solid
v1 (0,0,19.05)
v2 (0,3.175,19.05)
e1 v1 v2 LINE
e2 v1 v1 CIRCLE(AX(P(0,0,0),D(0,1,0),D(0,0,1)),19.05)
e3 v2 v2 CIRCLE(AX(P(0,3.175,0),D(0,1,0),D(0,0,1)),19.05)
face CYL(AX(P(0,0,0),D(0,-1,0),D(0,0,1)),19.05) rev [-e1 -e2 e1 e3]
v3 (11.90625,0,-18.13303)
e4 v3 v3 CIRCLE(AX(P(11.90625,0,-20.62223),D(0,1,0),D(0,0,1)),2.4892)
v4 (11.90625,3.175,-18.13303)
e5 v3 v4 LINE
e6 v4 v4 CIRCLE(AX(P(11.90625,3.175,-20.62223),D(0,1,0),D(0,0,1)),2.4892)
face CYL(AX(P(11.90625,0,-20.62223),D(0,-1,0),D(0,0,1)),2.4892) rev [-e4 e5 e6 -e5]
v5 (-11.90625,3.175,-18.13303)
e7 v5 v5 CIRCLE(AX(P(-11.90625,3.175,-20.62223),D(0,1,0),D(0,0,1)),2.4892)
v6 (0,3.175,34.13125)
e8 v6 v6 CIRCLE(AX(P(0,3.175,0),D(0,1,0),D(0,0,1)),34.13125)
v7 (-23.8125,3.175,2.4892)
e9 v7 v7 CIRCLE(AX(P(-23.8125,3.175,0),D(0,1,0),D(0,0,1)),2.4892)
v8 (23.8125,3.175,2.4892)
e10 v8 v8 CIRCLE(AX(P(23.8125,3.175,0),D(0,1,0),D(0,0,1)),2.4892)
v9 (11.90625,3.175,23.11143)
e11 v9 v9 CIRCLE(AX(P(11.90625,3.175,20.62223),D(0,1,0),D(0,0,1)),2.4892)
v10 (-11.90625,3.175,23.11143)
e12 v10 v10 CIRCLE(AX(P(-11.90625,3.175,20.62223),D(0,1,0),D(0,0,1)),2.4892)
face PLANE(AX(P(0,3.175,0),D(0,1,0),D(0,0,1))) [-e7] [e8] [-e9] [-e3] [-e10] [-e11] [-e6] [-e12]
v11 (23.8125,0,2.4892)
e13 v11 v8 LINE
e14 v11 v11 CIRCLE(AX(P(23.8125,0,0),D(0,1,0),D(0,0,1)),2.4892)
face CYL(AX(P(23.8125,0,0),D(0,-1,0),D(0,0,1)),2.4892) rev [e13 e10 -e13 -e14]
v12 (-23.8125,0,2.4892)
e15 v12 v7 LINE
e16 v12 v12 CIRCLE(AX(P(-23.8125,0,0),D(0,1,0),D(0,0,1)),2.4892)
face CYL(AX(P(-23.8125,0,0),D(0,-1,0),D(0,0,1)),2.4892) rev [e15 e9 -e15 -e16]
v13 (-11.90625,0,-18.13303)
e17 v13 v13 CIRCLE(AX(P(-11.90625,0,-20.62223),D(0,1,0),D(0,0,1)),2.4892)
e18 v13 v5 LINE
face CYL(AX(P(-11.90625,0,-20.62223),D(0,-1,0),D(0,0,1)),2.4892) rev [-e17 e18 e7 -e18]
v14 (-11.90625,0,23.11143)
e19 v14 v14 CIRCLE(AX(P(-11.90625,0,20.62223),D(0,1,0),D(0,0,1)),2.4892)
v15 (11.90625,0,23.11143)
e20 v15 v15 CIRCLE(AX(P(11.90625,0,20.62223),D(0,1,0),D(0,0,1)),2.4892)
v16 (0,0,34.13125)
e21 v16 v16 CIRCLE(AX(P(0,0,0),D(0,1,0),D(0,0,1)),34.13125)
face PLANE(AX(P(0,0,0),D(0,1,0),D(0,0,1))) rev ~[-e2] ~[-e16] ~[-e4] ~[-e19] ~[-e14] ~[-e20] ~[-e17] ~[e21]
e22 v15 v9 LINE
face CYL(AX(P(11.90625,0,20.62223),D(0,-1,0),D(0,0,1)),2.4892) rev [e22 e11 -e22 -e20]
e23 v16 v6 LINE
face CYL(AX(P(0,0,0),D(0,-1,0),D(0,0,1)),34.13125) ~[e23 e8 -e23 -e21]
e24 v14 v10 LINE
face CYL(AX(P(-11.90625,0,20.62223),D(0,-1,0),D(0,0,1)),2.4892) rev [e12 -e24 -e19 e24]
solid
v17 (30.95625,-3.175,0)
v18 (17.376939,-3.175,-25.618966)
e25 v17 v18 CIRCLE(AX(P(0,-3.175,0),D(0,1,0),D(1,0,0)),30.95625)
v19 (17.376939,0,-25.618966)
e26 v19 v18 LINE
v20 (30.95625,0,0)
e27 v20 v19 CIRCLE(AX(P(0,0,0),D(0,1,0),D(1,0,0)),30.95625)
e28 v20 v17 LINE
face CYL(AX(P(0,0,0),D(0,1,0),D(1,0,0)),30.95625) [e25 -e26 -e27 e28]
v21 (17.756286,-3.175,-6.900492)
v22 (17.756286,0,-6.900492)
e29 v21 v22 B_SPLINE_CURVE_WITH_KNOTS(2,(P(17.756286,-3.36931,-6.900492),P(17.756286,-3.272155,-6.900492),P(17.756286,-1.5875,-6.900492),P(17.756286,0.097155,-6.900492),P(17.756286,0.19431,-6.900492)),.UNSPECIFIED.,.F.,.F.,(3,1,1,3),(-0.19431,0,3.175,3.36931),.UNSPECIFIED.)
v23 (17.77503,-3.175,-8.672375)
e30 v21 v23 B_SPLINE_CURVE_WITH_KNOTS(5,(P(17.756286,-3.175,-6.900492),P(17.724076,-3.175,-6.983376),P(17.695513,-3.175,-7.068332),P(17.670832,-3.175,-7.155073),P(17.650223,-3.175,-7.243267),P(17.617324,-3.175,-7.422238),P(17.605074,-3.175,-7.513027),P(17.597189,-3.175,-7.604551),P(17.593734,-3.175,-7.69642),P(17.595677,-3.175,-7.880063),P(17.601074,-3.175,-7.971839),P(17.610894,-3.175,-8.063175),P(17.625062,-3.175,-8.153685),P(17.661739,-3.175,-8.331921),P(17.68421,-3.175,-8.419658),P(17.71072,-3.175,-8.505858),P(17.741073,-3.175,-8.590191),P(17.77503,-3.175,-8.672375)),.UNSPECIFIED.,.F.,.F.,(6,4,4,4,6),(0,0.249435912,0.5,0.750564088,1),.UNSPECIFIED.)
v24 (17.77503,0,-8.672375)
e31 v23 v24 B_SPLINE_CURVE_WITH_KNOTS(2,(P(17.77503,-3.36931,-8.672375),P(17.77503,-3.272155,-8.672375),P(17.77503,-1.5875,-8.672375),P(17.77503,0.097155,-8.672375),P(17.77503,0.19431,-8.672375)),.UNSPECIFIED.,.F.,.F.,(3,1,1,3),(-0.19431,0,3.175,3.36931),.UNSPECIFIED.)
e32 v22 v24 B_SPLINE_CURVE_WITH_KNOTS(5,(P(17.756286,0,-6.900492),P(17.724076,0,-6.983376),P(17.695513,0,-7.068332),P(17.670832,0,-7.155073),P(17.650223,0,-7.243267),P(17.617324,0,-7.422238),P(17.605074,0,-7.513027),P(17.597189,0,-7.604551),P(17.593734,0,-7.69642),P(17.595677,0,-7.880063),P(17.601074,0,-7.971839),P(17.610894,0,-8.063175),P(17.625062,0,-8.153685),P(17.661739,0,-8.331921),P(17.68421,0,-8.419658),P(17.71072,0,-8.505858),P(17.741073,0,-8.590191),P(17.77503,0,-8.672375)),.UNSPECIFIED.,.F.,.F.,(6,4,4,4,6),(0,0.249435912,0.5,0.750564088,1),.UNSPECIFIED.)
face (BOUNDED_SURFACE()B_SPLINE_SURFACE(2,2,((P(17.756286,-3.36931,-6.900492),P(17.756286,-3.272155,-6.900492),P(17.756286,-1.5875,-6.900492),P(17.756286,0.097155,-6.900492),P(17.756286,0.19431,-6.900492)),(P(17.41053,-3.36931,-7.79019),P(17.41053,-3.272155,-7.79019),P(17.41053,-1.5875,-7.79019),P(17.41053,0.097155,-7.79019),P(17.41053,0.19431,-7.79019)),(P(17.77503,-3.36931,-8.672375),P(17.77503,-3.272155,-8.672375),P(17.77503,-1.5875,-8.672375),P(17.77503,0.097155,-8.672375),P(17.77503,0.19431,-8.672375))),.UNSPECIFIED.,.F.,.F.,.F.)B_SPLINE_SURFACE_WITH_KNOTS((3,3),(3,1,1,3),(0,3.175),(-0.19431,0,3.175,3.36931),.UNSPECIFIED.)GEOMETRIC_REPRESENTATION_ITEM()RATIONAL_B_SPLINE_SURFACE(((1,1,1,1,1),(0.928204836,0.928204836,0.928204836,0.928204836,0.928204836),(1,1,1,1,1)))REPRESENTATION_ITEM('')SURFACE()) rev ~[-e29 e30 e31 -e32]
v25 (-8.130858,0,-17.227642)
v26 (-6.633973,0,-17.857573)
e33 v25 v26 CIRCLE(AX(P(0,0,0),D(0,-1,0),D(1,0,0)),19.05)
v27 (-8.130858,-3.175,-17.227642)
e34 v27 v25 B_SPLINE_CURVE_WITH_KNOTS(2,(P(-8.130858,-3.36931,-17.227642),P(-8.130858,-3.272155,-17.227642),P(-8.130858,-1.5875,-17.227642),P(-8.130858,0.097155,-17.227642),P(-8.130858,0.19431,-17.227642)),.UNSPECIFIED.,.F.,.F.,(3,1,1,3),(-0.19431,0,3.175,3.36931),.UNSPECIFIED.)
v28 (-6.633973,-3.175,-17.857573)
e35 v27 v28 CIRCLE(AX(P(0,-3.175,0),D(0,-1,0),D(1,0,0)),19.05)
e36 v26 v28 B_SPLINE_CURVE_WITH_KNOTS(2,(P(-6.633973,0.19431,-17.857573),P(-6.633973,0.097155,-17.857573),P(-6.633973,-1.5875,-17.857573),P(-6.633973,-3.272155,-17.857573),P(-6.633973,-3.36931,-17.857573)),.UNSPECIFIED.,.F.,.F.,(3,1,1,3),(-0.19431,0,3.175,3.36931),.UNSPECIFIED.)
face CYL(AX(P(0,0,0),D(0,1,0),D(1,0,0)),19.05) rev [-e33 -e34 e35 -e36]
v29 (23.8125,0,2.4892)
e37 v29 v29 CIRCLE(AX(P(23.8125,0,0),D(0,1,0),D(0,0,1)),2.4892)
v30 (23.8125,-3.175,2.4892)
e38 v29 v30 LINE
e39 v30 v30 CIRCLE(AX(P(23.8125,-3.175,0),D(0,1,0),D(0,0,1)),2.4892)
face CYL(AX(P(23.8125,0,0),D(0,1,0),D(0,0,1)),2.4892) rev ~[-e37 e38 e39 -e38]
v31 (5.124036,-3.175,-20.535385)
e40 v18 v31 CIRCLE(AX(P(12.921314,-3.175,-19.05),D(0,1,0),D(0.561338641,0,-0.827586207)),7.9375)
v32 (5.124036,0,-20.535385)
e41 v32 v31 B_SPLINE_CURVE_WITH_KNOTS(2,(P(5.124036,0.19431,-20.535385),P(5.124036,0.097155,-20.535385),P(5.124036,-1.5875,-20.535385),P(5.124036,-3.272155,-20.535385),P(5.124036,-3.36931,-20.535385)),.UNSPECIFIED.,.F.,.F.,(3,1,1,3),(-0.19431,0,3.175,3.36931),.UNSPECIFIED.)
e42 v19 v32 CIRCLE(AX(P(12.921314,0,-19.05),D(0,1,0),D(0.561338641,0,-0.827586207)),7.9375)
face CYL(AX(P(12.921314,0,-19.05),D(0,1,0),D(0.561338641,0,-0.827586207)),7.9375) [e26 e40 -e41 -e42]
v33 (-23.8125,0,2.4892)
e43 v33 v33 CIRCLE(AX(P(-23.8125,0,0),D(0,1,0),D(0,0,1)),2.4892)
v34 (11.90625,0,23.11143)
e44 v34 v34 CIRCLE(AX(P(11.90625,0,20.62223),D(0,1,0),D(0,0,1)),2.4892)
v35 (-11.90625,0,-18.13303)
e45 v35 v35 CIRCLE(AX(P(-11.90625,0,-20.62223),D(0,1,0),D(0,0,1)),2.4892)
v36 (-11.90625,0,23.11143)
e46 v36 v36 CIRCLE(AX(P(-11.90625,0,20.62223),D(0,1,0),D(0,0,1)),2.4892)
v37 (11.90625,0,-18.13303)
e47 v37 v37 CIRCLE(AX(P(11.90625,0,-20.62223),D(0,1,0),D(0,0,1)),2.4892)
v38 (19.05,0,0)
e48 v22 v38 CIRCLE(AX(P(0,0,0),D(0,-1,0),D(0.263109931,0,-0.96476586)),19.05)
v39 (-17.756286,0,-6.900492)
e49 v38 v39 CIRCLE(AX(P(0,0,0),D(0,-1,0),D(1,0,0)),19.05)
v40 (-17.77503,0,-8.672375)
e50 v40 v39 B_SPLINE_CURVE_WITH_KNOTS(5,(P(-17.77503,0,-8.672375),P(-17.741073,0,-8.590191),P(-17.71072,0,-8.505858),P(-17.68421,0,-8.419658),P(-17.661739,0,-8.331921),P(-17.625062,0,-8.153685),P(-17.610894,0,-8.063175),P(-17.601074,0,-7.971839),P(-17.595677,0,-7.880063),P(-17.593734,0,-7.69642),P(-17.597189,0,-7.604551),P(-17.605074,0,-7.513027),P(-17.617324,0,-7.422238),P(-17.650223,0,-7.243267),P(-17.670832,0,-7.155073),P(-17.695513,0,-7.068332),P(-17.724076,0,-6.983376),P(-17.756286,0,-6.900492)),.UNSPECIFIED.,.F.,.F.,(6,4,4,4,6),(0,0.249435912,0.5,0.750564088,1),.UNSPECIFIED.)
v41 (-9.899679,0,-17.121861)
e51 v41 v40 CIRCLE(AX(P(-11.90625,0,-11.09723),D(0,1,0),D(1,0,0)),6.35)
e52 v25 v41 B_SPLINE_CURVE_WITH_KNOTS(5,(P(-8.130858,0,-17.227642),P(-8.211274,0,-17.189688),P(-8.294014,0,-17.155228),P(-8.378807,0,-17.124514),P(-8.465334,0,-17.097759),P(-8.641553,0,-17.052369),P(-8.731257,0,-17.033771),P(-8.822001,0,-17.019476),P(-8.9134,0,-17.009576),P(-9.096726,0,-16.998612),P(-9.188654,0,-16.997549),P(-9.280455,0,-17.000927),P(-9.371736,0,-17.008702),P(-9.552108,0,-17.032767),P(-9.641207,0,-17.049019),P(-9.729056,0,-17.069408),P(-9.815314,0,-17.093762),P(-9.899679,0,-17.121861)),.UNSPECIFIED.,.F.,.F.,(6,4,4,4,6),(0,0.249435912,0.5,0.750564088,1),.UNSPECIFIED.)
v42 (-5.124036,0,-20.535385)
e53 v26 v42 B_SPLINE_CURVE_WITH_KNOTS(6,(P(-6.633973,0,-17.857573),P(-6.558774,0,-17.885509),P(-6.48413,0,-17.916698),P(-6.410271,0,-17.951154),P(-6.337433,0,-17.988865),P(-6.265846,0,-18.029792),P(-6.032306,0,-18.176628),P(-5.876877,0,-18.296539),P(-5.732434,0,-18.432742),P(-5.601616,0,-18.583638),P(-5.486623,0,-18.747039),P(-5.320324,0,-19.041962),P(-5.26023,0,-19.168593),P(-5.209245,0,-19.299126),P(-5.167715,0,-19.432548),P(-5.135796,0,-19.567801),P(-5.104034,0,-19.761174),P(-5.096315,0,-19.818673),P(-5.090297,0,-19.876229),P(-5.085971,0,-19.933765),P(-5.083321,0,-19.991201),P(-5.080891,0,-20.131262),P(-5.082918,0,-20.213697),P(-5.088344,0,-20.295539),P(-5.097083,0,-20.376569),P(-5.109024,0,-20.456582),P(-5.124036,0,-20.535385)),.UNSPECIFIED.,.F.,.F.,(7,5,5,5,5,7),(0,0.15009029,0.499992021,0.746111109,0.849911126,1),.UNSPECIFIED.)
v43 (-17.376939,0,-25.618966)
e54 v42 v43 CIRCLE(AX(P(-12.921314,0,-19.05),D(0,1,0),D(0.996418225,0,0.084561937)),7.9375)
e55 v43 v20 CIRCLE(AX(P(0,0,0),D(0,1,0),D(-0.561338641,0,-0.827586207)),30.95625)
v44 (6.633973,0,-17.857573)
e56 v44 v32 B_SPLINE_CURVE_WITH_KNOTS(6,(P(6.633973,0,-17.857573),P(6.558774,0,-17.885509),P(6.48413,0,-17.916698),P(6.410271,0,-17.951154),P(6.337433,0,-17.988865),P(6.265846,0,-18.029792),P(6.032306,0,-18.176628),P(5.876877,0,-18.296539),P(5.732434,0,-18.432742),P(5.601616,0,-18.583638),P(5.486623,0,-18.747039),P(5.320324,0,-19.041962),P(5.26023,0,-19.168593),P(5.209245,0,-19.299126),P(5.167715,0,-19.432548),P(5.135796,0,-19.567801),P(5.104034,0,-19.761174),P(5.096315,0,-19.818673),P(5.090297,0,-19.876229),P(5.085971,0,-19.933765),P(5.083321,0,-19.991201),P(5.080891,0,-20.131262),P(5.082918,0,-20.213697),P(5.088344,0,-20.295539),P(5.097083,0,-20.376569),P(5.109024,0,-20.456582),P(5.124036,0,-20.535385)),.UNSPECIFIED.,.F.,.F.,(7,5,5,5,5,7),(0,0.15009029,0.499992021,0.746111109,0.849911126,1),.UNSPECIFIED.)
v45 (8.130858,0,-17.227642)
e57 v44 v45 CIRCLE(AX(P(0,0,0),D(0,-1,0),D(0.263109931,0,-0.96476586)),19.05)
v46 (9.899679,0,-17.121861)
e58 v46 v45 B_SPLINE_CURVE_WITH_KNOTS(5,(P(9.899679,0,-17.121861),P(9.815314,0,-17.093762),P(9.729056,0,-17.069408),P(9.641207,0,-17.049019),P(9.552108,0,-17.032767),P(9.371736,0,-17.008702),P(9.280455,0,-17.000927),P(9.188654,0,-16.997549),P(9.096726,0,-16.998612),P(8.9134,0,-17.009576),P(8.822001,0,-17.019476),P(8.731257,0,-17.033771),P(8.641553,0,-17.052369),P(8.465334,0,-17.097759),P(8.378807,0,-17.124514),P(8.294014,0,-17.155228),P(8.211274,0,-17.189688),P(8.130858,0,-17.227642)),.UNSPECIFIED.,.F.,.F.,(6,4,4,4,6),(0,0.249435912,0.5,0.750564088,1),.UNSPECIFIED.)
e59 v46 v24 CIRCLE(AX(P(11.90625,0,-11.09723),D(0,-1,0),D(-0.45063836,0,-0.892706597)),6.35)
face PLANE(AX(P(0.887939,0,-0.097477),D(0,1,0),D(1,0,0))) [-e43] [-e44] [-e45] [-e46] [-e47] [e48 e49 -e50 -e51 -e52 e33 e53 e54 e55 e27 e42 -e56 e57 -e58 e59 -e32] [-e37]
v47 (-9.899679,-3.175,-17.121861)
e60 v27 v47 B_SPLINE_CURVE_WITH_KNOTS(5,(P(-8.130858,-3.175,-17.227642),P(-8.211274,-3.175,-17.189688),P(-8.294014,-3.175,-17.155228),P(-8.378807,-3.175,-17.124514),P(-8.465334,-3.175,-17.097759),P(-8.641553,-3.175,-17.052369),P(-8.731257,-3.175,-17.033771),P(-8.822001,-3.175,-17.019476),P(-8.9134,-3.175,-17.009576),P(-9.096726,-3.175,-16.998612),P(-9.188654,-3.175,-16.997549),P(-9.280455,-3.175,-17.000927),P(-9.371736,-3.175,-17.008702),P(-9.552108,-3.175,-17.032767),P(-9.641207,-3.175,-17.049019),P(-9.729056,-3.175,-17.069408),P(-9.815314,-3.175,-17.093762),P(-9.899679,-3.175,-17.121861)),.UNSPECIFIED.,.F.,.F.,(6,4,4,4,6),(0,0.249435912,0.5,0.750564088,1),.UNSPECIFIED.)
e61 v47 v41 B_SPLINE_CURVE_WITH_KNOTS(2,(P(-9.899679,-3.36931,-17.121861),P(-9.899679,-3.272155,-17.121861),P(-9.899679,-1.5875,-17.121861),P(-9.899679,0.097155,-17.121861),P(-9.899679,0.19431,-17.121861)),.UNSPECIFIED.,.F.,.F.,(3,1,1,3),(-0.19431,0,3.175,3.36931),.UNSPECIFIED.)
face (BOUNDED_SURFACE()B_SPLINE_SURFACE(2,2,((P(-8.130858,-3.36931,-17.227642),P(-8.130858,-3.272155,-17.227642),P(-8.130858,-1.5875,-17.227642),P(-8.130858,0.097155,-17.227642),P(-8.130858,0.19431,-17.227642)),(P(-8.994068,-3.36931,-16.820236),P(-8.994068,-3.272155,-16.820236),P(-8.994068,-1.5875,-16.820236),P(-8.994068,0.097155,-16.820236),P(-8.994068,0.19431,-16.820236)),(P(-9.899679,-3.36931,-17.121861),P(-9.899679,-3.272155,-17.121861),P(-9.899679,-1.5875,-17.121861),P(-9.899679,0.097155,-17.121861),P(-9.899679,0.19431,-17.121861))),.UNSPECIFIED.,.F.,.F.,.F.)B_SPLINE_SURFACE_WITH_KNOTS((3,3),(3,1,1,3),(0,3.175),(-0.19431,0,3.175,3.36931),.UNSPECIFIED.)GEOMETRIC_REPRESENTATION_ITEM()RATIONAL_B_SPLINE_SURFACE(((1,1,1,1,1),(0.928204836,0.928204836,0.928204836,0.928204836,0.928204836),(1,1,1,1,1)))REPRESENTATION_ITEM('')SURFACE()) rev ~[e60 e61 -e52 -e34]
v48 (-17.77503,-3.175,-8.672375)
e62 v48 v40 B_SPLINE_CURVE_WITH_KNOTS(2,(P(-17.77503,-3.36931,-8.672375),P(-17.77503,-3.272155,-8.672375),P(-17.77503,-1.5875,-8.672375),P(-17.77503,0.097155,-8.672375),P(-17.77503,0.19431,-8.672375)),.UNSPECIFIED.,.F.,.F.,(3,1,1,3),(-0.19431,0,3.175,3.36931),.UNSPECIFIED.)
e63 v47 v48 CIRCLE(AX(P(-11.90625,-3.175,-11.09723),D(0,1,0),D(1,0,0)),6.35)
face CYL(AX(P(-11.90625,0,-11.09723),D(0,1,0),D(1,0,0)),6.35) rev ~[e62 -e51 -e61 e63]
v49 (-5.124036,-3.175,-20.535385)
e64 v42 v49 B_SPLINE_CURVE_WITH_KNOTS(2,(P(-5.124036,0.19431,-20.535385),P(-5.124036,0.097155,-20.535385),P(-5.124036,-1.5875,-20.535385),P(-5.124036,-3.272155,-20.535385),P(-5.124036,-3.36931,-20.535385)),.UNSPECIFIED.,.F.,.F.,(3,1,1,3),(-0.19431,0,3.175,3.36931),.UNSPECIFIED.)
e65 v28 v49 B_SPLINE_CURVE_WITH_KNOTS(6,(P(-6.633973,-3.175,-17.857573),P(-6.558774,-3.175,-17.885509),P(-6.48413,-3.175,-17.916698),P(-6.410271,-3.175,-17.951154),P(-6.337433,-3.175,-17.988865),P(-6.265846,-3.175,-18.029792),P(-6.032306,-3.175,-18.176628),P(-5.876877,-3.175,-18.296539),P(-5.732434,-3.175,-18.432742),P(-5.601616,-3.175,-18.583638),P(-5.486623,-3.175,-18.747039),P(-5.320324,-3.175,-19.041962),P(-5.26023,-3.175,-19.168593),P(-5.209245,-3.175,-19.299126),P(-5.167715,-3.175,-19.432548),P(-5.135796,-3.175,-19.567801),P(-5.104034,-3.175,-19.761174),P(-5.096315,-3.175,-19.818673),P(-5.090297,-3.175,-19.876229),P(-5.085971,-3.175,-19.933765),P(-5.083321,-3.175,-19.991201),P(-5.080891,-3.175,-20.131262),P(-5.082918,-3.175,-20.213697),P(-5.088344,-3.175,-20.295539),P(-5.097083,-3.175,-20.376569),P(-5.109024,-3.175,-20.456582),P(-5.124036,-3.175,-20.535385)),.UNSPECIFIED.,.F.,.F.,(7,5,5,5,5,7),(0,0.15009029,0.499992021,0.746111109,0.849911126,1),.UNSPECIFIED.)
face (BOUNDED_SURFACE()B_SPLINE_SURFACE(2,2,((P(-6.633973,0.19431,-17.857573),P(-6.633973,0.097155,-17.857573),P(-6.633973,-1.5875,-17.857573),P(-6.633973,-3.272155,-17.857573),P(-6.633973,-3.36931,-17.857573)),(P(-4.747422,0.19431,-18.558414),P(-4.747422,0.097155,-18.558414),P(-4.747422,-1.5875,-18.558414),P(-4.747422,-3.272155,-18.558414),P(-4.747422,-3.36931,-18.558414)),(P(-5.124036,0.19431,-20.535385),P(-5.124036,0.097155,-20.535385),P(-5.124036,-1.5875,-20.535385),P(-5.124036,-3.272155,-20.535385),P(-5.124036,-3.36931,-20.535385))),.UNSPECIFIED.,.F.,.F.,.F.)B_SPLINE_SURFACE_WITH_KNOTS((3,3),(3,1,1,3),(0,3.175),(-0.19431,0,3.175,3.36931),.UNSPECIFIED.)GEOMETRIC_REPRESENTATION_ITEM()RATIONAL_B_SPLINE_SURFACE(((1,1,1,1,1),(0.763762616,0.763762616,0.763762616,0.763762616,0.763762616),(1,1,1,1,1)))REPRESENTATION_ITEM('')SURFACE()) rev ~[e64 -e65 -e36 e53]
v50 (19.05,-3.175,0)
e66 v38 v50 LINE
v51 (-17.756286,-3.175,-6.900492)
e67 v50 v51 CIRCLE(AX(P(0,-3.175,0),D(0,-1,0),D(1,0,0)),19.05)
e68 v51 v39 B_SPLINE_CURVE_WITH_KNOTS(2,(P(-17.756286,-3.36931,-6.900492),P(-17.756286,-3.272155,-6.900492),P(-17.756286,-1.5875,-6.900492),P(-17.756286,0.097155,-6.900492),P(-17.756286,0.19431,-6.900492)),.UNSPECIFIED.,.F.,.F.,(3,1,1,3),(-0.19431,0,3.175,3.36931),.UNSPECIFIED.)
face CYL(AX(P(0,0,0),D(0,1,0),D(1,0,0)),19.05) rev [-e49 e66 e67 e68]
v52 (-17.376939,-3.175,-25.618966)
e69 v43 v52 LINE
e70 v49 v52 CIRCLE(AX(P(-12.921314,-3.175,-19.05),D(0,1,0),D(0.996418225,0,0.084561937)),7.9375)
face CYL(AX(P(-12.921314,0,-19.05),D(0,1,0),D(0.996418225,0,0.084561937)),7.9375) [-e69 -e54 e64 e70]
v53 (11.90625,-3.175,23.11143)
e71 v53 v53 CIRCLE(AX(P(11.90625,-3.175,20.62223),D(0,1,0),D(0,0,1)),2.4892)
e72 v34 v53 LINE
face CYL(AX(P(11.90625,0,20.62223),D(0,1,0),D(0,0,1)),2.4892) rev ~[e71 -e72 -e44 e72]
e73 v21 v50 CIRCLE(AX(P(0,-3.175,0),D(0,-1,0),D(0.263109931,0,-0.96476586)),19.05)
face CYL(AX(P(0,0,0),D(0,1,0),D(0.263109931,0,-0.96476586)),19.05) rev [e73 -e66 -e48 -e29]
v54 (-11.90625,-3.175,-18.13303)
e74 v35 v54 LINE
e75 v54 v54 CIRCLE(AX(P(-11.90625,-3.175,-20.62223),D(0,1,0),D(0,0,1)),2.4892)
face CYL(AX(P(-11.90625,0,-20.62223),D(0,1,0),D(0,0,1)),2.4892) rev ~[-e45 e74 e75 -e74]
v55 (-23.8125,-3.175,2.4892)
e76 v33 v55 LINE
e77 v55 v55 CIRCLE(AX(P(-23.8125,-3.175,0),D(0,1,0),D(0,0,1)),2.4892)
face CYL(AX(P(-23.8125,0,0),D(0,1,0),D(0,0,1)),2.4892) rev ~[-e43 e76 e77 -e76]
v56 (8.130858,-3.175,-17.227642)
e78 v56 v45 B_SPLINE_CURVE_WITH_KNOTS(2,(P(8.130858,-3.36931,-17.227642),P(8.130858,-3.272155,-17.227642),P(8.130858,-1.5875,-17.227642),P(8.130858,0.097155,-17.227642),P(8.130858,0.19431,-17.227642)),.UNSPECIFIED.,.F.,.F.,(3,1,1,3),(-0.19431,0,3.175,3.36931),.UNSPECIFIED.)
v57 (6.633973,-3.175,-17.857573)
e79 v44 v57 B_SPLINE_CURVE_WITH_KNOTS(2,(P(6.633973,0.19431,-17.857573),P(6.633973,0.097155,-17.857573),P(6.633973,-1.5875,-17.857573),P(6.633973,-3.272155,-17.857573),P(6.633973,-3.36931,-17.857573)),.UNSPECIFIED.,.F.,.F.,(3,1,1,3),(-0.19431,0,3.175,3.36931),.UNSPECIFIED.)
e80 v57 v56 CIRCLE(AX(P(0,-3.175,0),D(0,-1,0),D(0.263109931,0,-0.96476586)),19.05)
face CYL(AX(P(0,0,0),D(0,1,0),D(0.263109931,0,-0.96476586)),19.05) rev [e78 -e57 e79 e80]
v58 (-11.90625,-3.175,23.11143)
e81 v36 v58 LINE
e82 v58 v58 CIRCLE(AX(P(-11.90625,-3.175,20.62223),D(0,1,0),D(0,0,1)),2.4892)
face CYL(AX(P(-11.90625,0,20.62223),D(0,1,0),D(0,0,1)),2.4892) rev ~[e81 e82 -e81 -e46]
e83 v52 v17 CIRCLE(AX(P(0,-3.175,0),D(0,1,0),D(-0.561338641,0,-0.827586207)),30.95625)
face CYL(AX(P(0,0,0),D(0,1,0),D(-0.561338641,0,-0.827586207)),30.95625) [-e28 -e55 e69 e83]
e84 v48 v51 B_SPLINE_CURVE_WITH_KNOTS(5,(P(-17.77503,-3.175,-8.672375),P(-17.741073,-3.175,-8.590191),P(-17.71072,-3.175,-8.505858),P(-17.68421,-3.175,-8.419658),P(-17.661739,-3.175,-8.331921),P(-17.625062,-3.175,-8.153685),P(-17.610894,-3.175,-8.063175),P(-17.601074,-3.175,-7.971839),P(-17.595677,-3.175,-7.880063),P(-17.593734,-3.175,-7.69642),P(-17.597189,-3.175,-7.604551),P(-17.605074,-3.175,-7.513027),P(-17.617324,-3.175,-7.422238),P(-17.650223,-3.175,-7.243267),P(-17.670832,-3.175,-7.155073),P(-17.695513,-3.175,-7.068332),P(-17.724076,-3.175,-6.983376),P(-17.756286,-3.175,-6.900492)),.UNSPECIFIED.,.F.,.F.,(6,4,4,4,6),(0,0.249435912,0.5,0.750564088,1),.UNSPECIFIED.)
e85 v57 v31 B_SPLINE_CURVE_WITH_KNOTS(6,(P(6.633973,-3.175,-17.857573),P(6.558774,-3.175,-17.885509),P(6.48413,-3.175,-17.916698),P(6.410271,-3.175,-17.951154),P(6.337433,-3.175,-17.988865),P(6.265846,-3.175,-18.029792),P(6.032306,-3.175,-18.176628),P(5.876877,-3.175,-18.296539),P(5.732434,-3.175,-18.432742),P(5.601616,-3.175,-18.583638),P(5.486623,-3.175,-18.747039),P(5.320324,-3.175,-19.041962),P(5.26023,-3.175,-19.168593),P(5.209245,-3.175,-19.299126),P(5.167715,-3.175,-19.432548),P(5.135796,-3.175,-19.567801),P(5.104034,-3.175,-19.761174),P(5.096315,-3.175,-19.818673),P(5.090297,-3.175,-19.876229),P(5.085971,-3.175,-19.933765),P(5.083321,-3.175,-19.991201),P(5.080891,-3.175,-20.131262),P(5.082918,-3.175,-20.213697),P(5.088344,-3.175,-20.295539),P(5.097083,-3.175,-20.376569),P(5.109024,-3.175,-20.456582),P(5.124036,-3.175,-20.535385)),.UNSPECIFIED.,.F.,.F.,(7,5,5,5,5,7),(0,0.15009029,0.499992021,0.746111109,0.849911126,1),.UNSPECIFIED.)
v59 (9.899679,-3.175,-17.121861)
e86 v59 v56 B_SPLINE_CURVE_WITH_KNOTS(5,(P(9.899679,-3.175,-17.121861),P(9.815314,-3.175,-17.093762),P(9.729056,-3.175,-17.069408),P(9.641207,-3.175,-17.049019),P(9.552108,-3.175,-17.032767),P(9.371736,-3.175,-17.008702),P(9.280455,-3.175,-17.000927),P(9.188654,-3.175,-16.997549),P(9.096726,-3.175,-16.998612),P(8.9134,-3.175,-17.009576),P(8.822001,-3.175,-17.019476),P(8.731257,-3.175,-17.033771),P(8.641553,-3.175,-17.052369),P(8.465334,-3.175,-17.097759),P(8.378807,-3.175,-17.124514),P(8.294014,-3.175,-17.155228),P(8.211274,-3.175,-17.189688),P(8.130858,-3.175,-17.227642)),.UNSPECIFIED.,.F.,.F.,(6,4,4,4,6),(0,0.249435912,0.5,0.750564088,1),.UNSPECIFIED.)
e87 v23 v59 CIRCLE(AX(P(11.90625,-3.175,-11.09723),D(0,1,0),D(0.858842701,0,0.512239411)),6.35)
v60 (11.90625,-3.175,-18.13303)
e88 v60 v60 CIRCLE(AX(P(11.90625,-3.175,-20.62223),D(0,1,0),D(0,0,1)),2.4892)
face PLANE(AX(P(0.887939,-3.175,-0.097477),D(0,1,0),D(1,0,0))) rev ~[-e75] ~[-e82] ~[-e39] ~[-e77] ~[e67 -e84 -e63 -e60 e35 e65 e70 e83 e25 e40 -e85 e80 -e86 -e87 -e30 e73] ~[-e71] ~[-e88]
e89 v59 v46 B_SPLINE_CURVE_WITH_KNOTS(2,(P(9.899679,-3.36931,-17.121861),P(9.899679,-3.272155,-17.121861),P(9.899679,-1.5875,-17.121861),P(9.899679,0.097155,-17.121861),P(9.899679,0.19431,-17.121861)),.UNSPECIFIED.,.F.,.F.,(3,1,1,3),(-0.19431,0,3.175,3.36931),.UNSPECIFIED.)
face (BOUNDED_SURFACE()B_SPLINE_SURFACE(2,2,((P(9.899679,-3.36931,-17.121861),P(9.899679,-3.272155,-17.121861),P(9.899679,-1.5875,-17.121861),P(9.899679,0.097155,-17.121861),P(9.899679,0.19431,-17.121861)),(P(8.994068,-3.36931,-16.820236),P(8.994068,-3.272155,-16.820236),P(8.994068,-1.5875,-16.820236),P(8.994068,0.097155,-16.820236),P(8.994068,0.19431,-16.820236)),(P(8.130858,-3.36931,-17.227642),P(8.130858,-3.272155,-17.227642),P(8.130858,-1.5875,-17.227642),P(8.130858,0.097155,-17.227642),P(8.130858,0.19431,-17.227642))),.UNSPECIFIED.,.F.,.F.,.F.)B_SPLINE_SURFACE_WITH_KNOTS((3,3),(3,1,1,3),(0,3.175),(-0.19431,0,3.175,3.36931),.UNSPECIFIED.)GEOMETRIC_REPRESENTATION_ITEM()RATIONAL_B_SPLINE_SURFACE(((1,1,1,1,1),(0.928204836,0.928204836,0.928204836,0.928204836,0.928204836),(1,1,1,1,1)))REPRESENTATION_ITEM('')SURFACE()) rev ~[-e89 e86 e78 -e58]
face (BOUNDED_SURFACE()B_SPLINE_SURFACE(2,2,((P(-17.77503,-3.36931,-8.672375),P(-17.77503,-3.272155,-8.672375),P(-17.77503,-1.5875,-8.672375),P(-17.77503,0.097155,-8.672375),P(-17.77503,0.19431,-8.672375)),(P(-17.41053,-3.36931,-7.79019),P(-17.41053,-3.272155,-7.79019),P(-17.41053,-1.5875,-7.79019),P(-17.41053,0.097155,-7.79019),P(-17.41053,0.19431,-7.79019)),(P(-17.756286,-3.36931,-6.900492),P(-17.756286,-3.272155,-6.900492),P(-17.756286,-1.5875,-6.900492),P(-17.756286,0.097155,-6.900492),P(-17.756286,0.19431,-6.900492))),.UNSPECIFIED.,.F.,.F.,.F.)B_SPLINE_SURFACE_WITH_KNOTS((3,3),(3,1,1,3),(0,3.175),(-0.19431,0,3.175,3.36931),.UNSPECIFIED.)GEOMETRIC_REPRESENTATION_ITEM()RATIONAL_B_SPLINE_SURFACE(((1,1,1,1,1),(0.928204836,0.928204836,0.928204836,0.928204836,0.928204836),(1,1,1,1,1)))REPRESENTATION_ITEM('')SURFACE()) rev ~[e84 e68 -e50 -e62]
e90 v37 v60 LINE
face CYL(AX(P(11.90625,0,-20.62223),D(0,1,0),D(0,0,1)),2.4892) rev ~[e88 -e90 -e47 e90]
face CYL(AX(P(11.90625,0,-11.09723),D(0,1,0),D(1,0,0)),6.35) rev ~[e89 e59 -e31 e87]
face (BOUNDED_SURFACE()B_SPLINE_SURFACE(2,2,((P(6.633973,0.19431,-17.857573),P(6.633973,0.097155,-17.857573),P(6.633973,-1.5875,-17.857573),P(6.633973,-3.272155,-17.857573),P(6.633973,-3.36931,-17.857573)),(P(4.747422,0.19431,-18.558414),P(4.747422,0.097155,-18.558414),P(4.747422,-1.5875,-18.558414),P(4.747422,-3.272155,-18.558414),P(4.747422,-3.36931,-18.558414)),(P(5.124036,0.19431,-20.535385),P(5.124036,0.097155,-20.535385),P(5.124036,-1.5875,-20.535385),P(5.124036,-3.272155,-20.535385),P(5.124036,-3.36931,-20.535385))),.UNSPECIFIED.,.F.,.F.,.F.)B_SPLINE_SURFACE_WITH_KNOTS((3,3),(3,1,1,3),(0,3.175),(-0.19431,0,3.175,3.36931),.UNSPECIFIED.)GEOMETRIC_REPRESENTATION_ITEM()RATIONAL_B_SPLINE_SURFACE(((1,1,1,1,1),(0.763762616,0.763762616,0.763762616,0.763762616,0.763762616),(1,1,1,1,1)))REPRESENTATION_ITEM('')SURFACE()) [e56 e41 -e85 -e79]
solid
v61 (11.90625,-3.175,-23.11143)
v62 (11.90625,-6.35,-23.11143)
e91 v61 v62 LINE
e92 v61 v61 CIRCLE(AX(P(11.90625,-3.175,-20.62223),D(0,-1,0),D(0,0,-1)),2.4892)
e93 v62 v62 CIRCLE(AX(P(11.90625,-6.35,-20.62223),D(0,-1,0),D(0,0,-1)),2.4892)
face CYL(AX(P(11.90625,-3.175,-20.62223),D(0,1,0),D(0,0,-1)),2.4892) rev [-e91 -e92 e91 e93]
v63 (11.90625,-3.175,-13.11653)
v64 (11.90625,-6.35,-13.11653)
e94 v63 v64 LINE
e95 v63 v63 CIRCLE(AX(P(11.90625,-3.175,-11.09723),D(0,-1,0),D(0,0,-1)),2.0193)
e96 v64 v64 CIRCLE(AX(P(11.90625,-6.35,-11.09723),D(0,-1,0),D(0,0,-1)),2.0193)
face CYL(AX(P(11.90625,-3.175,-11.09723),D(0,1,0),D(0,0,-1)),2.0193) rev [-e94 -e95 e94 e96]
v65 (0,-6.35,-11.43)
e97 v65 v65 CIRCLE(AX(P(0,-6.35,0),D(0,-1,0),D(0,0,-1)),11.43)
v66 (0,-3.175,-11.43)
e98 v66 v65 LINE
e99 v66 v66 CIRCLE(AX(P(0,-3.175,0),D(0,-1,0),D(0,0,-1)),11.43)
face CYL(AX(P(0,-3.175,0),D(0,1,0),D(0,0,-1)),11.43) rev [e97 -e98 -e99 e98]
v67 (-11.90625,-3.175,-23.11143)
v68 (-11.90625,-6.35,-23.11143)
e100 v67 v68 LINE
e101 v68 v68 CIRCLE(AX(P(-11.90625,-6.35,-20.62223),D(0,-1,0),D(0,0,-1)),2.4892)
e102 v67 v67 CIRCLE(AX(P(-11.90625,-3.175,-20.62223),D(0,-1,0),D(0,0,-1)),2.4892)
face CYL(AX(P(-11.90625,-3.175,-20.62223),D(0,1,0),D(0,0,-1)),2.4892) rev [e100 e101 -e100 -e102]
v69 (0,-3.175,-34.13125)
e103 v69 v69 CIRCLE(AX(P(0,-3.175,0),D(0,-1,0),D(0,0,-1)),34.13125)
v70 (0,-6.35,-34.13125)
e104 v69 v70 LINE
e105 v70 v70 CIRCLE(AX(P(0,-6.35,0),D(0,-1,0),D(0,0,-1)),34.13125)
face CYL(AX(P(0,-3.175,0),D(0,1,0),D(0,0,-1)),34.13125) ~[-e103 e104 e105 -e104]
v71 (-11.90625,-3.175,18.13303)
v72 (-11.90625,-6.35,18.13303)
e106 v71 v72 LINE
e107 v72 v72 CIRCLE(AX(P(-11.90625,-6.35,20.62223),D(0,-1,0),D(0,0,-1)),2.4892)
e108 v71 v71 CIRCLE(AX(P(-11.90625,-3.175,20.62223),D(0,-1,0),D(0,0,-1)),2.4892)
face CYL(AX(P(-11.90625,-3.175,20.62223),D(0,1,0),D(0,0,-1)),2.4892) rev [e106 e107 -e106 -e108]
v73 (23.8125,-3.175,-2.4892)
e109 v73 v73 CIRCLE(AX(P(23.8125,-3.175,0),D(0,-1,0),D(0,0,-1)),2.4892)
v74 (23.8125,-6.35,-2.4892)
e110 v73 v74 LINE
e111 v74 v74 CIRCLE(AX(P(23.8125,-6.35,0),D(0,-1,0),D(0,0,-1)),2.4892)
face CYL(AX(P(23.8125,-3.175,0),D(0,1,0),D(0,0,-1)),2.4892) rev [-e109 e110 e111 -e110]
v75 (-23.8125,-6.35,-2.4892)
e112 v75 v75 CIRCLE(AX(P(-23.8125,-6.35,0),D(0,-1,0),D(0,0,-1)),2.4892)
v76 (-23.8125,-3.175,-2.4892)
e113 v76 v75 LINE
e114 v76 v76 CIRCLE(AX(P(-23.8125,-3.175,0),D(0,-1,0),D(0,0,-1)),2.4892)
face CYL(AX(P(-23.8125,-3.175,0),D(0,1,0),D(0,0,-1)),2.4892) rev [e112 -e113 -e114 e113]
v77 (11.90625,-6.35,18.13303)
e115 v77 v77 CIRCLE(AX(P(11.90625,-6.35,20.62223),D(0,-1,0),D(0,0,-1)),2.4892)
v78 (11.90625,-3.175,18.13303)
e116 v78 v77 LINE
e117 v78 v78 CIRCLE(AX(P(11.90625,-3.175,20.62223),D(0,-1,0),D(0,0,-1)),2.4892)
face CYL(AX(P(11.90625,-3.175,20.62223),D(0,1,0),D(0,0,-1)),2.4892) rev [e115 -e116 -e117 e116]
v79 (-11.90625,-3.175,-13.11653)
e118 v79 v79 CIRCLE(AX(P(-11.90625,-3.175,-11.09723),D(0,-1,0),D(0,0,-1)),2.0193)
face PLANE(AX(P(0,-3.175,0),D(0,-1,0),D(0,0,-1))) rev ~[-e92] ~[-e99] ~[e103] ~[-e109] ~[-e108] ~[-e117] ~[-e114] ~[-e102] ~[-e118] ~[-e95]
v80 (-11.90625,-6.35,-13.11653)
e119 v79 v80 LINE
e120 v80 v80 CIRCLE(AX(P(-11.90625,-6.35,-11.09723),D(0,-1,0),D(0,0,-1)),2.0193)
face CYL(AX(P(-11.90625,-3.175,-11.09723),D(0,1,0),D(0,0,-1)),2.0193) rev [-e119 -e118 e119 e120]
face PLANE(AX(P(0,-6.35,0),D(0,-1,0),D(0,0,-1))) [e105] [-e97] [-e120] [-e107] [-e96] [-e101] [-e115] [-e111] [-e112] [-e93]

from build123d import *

# Parameters (mm, degrees)
SKETCH1_R           = 2.4892
BOSS_EXTRUDE1_DEPTH = 3.175
SKETCH2_R           = 34.13125
SKETCH2_R_2         = 2.4892
SKETCH2_R_3         = 11.43
SKETCH2_R_4         = 2.0193
BOSS_EXTRUDE2_DEPTH = 3.175
SKETCH3_R           = 6.35
CUT_EXTRUDE1_DEPTH  = 3.175
SKETCH4_R           = 34.13125
SKETCH4_R_2         = 19.05
SKETCH4_R_3         = 2.4892
BOSS_EXTRUDE3_DEPTH = 3.175
FILLET2_R           = 2.38125


with BuildPart() as part:
    # Sketch1 → Boss-Extrude1 (new body)
    with BuildSketch(Plane(origin=(0, 0, 0), x_dir=(1, 0, 0), z_dir=(0, 1, 0))):
        with BuildLine():
            ThreePointArc((-17.376939313, 25.618965517), (-14.497664233, -27.351547412), (30.95625, 0))
            ThreePointArc((30.95625, 0), (27.351547412, 14.497664233), (17.376939313, 25.618965517))
            ThreePointArc((17.376939313, 25.618965517), (8.910502717, 25.899620451), (5.012244188, 18.378789628))
            ThreePointArc((5.012244188, 18.378789628), (15.139117408, 11.563287772), (19.05, 0))
            ThreePointArc((19.05, 0), (-11.563287772, -15.139117408), (-5.012244188, 18.378789628))
            ThreePointArc((-5.012244188, 18.378789628), (-8.910502717, 25.899620451), (-17.376939313, 25.618965517))
        make_face()
        with Locations(Location((-11.90625, -20.622229928, 0), (0, 0, 270))):
            Circle(SKETCH1_R, mode=Mode.SUBTRACT)
        with Locations(Location((-23.8125, 0, 0), (0, 0, 270))):
            Circle(SKETCH1_R, mode=Mode.SUBTRACT)
        with Locations(Location((11.90625, -20.622229928, 0), (0, 0, 270))):
            Circle(SKETCH1_R, mode=Mode.SUBTRACT)
        with Locations(Location((-11.90625, 20.622229928, 0), (0, 0, 270))):
            Circle(SKETCH1_R, mode=Mode.SUBTRACT)
        with Locations(Location((23.8125, 0, 0), (0, 0, 270))):
            Circle(SKETCH1_R, mode=Mode.SUBTRACT)
        with Locations(Location((11.90625, 20.622229928, 0), (0, 0, 270))):
            Circle(SKETCH1_R, mode=Mode.SUBTRACT)
    extrude(amount=-BOSS_EXTRUDE1_DEPTH)

    # Sketch3 → Cut-Extrude1 (cut)
    with BuildSketch(Plane(origin=(0, 0, 0), x_dir=(1, 0, 0), z_dir=(0, 1, 0))):
        with Locations((-11.90625, 11.097229928)):
            Circle(SKETCH3_R)
        with Locations((11.90625, 11.097229928)):
            Circle(SKETCH3_R)
    extrude(amount=-CUT_EXTRUDE1_DEPTH, mode=Mode.SUBTRACT)

    # Fillet2
    fillet2_edges = [part.edges().sort_by_distance(p)[0] for p in [
        (-5.012244188, -1.5875, -18.378789628),
        (5.012244188, -1.5875, -18.378789628),
        (-17.359901154, -1.5875, -7.844509668),
        (-9.044696414, -1.5875, -16.765916819),
        (9.044696414, -1.5875, -16.765916819),
        (17.359901154, -1.5875, -7.844509668),
    ]]
    fillet(fillet2_edges, radius=FILLET2_R)


with BuildPart() as body_2:
    # Sketch2 → Boss-Extrude2 (new body)
    with BuildSketch(Plane(origin=(0, -3.175, 0), x_dir=(-1, 0, 0), z_dir=(0, -1, 0))):
        with Locations(Location((0, 0, 0), (0, 0, 90))):
            Circle(SKETCH2_R)
        with Locations(Location((-11.90625, 20.622229928, 0), (0, 0, 90))):
            Circle(SKETCH2_R_2, mode=Mode.SUBTRACT)
        with Locations(Location((-23.8125, 0, 0), (0, 0, 90))):
            Circle(SKETCH2_R_2, mode=Mode.SUBTRACT)
        with Locations(Location((-11.90625, -20.622229928, 0), (0, 0, 90))):
            Circle(SKETCH2_R_2, mode=Mode.SUBTRACT)
        with Locations(Location((11.90625, -20.622229928, 0), (0, 0, 90))):
            Circle(SKETCH2_R_2, mode=Mode.SUBTRACT)
        with Locations(Location((11.90625, 20.622229928, 0), (0, 0, 90))):
            Circle(SKETCH2_R_2, mode=Mode.SUBTRACT)
        with Locations(Location((23.8125, 0, 0), (0, 0, 90))):
            Circle(SKETCH2_R_2, mode=Mode.SUBTRACT)
        with Locations(Location((0, 0, 0), (0, 0, 90))):
            Circle(SKETCH2_R_3, mode=Mode.SUBTRACT)
        with Locations(Location((11.90625, 11.097229928, 0), (0, 0, 90))):
            Circle(SKETCH2_R_4, mode=Mode.SUBTRACT)
        with Locations(Location((-11.90625, 11.097229928, 0), (0, 0, 90))):
            Circle(SKETCH2_R_4, mode=Mode.SUBTRACT)
    extrude(amount=BOSS_EXTRUDE2_DEPTH)


with BuildPart() as body_3:
    # Sketch4 → Boss-Extrude3 (new body)
    with BuildSketch(Plane(origin=(0, 0, 0), x_dir=(1, 0, 0), z_dir=(0, 1, 0))):
        with Locations(Location((0, 0, 0), (0, 0, 270))):
            Circle(SKETCH4_R)
        with Locations(Location((0, 0, 0), (0, 0, 270))):
            Circle(SKETCH4_R_2, mode=Mode.SUBTRACT)
        with Locations(Location((11.90625, 20.622229928, 0), (0, 0, 270))):
            Circle(SKETCH4_R_3, mode=Mode.SUBTRACT)
        with Locations(Location((23.8125, 0, 0), (0, 0, 270))):
            Circle(SKETCH4_R_3, mode=Mode.SUBTRACT)
        with Locations(Location((11.90625, -20.622229928, 0), (0, 0, 270))):
            Circle(SKETCH4_R_3, mode=Mode.SUBTRACT)
        with Locations(Location((-11.90625, -20.622229928, 0), (0, 0, 270))):
            Circle(SKETCH4_R_3, mode=Mode.SUBTRACT)
        with Locations(Location((-23.8125, 0, 0), (0, 0, 270))):
            Circle(SKETCH4_R_3, mode=Mode.SUBTRACT)
        with Locations(Location((-11.90625, 20.622229928, 0), (0, 0, 270))):
            Circle(SKETCH4_R_3, mode=Mode.SUBTRACT)
    extrude(amount=BOSS_EXTRUDE3_DEPTH)


solid = Compound([part.part, body_2.part, body_3.part])
